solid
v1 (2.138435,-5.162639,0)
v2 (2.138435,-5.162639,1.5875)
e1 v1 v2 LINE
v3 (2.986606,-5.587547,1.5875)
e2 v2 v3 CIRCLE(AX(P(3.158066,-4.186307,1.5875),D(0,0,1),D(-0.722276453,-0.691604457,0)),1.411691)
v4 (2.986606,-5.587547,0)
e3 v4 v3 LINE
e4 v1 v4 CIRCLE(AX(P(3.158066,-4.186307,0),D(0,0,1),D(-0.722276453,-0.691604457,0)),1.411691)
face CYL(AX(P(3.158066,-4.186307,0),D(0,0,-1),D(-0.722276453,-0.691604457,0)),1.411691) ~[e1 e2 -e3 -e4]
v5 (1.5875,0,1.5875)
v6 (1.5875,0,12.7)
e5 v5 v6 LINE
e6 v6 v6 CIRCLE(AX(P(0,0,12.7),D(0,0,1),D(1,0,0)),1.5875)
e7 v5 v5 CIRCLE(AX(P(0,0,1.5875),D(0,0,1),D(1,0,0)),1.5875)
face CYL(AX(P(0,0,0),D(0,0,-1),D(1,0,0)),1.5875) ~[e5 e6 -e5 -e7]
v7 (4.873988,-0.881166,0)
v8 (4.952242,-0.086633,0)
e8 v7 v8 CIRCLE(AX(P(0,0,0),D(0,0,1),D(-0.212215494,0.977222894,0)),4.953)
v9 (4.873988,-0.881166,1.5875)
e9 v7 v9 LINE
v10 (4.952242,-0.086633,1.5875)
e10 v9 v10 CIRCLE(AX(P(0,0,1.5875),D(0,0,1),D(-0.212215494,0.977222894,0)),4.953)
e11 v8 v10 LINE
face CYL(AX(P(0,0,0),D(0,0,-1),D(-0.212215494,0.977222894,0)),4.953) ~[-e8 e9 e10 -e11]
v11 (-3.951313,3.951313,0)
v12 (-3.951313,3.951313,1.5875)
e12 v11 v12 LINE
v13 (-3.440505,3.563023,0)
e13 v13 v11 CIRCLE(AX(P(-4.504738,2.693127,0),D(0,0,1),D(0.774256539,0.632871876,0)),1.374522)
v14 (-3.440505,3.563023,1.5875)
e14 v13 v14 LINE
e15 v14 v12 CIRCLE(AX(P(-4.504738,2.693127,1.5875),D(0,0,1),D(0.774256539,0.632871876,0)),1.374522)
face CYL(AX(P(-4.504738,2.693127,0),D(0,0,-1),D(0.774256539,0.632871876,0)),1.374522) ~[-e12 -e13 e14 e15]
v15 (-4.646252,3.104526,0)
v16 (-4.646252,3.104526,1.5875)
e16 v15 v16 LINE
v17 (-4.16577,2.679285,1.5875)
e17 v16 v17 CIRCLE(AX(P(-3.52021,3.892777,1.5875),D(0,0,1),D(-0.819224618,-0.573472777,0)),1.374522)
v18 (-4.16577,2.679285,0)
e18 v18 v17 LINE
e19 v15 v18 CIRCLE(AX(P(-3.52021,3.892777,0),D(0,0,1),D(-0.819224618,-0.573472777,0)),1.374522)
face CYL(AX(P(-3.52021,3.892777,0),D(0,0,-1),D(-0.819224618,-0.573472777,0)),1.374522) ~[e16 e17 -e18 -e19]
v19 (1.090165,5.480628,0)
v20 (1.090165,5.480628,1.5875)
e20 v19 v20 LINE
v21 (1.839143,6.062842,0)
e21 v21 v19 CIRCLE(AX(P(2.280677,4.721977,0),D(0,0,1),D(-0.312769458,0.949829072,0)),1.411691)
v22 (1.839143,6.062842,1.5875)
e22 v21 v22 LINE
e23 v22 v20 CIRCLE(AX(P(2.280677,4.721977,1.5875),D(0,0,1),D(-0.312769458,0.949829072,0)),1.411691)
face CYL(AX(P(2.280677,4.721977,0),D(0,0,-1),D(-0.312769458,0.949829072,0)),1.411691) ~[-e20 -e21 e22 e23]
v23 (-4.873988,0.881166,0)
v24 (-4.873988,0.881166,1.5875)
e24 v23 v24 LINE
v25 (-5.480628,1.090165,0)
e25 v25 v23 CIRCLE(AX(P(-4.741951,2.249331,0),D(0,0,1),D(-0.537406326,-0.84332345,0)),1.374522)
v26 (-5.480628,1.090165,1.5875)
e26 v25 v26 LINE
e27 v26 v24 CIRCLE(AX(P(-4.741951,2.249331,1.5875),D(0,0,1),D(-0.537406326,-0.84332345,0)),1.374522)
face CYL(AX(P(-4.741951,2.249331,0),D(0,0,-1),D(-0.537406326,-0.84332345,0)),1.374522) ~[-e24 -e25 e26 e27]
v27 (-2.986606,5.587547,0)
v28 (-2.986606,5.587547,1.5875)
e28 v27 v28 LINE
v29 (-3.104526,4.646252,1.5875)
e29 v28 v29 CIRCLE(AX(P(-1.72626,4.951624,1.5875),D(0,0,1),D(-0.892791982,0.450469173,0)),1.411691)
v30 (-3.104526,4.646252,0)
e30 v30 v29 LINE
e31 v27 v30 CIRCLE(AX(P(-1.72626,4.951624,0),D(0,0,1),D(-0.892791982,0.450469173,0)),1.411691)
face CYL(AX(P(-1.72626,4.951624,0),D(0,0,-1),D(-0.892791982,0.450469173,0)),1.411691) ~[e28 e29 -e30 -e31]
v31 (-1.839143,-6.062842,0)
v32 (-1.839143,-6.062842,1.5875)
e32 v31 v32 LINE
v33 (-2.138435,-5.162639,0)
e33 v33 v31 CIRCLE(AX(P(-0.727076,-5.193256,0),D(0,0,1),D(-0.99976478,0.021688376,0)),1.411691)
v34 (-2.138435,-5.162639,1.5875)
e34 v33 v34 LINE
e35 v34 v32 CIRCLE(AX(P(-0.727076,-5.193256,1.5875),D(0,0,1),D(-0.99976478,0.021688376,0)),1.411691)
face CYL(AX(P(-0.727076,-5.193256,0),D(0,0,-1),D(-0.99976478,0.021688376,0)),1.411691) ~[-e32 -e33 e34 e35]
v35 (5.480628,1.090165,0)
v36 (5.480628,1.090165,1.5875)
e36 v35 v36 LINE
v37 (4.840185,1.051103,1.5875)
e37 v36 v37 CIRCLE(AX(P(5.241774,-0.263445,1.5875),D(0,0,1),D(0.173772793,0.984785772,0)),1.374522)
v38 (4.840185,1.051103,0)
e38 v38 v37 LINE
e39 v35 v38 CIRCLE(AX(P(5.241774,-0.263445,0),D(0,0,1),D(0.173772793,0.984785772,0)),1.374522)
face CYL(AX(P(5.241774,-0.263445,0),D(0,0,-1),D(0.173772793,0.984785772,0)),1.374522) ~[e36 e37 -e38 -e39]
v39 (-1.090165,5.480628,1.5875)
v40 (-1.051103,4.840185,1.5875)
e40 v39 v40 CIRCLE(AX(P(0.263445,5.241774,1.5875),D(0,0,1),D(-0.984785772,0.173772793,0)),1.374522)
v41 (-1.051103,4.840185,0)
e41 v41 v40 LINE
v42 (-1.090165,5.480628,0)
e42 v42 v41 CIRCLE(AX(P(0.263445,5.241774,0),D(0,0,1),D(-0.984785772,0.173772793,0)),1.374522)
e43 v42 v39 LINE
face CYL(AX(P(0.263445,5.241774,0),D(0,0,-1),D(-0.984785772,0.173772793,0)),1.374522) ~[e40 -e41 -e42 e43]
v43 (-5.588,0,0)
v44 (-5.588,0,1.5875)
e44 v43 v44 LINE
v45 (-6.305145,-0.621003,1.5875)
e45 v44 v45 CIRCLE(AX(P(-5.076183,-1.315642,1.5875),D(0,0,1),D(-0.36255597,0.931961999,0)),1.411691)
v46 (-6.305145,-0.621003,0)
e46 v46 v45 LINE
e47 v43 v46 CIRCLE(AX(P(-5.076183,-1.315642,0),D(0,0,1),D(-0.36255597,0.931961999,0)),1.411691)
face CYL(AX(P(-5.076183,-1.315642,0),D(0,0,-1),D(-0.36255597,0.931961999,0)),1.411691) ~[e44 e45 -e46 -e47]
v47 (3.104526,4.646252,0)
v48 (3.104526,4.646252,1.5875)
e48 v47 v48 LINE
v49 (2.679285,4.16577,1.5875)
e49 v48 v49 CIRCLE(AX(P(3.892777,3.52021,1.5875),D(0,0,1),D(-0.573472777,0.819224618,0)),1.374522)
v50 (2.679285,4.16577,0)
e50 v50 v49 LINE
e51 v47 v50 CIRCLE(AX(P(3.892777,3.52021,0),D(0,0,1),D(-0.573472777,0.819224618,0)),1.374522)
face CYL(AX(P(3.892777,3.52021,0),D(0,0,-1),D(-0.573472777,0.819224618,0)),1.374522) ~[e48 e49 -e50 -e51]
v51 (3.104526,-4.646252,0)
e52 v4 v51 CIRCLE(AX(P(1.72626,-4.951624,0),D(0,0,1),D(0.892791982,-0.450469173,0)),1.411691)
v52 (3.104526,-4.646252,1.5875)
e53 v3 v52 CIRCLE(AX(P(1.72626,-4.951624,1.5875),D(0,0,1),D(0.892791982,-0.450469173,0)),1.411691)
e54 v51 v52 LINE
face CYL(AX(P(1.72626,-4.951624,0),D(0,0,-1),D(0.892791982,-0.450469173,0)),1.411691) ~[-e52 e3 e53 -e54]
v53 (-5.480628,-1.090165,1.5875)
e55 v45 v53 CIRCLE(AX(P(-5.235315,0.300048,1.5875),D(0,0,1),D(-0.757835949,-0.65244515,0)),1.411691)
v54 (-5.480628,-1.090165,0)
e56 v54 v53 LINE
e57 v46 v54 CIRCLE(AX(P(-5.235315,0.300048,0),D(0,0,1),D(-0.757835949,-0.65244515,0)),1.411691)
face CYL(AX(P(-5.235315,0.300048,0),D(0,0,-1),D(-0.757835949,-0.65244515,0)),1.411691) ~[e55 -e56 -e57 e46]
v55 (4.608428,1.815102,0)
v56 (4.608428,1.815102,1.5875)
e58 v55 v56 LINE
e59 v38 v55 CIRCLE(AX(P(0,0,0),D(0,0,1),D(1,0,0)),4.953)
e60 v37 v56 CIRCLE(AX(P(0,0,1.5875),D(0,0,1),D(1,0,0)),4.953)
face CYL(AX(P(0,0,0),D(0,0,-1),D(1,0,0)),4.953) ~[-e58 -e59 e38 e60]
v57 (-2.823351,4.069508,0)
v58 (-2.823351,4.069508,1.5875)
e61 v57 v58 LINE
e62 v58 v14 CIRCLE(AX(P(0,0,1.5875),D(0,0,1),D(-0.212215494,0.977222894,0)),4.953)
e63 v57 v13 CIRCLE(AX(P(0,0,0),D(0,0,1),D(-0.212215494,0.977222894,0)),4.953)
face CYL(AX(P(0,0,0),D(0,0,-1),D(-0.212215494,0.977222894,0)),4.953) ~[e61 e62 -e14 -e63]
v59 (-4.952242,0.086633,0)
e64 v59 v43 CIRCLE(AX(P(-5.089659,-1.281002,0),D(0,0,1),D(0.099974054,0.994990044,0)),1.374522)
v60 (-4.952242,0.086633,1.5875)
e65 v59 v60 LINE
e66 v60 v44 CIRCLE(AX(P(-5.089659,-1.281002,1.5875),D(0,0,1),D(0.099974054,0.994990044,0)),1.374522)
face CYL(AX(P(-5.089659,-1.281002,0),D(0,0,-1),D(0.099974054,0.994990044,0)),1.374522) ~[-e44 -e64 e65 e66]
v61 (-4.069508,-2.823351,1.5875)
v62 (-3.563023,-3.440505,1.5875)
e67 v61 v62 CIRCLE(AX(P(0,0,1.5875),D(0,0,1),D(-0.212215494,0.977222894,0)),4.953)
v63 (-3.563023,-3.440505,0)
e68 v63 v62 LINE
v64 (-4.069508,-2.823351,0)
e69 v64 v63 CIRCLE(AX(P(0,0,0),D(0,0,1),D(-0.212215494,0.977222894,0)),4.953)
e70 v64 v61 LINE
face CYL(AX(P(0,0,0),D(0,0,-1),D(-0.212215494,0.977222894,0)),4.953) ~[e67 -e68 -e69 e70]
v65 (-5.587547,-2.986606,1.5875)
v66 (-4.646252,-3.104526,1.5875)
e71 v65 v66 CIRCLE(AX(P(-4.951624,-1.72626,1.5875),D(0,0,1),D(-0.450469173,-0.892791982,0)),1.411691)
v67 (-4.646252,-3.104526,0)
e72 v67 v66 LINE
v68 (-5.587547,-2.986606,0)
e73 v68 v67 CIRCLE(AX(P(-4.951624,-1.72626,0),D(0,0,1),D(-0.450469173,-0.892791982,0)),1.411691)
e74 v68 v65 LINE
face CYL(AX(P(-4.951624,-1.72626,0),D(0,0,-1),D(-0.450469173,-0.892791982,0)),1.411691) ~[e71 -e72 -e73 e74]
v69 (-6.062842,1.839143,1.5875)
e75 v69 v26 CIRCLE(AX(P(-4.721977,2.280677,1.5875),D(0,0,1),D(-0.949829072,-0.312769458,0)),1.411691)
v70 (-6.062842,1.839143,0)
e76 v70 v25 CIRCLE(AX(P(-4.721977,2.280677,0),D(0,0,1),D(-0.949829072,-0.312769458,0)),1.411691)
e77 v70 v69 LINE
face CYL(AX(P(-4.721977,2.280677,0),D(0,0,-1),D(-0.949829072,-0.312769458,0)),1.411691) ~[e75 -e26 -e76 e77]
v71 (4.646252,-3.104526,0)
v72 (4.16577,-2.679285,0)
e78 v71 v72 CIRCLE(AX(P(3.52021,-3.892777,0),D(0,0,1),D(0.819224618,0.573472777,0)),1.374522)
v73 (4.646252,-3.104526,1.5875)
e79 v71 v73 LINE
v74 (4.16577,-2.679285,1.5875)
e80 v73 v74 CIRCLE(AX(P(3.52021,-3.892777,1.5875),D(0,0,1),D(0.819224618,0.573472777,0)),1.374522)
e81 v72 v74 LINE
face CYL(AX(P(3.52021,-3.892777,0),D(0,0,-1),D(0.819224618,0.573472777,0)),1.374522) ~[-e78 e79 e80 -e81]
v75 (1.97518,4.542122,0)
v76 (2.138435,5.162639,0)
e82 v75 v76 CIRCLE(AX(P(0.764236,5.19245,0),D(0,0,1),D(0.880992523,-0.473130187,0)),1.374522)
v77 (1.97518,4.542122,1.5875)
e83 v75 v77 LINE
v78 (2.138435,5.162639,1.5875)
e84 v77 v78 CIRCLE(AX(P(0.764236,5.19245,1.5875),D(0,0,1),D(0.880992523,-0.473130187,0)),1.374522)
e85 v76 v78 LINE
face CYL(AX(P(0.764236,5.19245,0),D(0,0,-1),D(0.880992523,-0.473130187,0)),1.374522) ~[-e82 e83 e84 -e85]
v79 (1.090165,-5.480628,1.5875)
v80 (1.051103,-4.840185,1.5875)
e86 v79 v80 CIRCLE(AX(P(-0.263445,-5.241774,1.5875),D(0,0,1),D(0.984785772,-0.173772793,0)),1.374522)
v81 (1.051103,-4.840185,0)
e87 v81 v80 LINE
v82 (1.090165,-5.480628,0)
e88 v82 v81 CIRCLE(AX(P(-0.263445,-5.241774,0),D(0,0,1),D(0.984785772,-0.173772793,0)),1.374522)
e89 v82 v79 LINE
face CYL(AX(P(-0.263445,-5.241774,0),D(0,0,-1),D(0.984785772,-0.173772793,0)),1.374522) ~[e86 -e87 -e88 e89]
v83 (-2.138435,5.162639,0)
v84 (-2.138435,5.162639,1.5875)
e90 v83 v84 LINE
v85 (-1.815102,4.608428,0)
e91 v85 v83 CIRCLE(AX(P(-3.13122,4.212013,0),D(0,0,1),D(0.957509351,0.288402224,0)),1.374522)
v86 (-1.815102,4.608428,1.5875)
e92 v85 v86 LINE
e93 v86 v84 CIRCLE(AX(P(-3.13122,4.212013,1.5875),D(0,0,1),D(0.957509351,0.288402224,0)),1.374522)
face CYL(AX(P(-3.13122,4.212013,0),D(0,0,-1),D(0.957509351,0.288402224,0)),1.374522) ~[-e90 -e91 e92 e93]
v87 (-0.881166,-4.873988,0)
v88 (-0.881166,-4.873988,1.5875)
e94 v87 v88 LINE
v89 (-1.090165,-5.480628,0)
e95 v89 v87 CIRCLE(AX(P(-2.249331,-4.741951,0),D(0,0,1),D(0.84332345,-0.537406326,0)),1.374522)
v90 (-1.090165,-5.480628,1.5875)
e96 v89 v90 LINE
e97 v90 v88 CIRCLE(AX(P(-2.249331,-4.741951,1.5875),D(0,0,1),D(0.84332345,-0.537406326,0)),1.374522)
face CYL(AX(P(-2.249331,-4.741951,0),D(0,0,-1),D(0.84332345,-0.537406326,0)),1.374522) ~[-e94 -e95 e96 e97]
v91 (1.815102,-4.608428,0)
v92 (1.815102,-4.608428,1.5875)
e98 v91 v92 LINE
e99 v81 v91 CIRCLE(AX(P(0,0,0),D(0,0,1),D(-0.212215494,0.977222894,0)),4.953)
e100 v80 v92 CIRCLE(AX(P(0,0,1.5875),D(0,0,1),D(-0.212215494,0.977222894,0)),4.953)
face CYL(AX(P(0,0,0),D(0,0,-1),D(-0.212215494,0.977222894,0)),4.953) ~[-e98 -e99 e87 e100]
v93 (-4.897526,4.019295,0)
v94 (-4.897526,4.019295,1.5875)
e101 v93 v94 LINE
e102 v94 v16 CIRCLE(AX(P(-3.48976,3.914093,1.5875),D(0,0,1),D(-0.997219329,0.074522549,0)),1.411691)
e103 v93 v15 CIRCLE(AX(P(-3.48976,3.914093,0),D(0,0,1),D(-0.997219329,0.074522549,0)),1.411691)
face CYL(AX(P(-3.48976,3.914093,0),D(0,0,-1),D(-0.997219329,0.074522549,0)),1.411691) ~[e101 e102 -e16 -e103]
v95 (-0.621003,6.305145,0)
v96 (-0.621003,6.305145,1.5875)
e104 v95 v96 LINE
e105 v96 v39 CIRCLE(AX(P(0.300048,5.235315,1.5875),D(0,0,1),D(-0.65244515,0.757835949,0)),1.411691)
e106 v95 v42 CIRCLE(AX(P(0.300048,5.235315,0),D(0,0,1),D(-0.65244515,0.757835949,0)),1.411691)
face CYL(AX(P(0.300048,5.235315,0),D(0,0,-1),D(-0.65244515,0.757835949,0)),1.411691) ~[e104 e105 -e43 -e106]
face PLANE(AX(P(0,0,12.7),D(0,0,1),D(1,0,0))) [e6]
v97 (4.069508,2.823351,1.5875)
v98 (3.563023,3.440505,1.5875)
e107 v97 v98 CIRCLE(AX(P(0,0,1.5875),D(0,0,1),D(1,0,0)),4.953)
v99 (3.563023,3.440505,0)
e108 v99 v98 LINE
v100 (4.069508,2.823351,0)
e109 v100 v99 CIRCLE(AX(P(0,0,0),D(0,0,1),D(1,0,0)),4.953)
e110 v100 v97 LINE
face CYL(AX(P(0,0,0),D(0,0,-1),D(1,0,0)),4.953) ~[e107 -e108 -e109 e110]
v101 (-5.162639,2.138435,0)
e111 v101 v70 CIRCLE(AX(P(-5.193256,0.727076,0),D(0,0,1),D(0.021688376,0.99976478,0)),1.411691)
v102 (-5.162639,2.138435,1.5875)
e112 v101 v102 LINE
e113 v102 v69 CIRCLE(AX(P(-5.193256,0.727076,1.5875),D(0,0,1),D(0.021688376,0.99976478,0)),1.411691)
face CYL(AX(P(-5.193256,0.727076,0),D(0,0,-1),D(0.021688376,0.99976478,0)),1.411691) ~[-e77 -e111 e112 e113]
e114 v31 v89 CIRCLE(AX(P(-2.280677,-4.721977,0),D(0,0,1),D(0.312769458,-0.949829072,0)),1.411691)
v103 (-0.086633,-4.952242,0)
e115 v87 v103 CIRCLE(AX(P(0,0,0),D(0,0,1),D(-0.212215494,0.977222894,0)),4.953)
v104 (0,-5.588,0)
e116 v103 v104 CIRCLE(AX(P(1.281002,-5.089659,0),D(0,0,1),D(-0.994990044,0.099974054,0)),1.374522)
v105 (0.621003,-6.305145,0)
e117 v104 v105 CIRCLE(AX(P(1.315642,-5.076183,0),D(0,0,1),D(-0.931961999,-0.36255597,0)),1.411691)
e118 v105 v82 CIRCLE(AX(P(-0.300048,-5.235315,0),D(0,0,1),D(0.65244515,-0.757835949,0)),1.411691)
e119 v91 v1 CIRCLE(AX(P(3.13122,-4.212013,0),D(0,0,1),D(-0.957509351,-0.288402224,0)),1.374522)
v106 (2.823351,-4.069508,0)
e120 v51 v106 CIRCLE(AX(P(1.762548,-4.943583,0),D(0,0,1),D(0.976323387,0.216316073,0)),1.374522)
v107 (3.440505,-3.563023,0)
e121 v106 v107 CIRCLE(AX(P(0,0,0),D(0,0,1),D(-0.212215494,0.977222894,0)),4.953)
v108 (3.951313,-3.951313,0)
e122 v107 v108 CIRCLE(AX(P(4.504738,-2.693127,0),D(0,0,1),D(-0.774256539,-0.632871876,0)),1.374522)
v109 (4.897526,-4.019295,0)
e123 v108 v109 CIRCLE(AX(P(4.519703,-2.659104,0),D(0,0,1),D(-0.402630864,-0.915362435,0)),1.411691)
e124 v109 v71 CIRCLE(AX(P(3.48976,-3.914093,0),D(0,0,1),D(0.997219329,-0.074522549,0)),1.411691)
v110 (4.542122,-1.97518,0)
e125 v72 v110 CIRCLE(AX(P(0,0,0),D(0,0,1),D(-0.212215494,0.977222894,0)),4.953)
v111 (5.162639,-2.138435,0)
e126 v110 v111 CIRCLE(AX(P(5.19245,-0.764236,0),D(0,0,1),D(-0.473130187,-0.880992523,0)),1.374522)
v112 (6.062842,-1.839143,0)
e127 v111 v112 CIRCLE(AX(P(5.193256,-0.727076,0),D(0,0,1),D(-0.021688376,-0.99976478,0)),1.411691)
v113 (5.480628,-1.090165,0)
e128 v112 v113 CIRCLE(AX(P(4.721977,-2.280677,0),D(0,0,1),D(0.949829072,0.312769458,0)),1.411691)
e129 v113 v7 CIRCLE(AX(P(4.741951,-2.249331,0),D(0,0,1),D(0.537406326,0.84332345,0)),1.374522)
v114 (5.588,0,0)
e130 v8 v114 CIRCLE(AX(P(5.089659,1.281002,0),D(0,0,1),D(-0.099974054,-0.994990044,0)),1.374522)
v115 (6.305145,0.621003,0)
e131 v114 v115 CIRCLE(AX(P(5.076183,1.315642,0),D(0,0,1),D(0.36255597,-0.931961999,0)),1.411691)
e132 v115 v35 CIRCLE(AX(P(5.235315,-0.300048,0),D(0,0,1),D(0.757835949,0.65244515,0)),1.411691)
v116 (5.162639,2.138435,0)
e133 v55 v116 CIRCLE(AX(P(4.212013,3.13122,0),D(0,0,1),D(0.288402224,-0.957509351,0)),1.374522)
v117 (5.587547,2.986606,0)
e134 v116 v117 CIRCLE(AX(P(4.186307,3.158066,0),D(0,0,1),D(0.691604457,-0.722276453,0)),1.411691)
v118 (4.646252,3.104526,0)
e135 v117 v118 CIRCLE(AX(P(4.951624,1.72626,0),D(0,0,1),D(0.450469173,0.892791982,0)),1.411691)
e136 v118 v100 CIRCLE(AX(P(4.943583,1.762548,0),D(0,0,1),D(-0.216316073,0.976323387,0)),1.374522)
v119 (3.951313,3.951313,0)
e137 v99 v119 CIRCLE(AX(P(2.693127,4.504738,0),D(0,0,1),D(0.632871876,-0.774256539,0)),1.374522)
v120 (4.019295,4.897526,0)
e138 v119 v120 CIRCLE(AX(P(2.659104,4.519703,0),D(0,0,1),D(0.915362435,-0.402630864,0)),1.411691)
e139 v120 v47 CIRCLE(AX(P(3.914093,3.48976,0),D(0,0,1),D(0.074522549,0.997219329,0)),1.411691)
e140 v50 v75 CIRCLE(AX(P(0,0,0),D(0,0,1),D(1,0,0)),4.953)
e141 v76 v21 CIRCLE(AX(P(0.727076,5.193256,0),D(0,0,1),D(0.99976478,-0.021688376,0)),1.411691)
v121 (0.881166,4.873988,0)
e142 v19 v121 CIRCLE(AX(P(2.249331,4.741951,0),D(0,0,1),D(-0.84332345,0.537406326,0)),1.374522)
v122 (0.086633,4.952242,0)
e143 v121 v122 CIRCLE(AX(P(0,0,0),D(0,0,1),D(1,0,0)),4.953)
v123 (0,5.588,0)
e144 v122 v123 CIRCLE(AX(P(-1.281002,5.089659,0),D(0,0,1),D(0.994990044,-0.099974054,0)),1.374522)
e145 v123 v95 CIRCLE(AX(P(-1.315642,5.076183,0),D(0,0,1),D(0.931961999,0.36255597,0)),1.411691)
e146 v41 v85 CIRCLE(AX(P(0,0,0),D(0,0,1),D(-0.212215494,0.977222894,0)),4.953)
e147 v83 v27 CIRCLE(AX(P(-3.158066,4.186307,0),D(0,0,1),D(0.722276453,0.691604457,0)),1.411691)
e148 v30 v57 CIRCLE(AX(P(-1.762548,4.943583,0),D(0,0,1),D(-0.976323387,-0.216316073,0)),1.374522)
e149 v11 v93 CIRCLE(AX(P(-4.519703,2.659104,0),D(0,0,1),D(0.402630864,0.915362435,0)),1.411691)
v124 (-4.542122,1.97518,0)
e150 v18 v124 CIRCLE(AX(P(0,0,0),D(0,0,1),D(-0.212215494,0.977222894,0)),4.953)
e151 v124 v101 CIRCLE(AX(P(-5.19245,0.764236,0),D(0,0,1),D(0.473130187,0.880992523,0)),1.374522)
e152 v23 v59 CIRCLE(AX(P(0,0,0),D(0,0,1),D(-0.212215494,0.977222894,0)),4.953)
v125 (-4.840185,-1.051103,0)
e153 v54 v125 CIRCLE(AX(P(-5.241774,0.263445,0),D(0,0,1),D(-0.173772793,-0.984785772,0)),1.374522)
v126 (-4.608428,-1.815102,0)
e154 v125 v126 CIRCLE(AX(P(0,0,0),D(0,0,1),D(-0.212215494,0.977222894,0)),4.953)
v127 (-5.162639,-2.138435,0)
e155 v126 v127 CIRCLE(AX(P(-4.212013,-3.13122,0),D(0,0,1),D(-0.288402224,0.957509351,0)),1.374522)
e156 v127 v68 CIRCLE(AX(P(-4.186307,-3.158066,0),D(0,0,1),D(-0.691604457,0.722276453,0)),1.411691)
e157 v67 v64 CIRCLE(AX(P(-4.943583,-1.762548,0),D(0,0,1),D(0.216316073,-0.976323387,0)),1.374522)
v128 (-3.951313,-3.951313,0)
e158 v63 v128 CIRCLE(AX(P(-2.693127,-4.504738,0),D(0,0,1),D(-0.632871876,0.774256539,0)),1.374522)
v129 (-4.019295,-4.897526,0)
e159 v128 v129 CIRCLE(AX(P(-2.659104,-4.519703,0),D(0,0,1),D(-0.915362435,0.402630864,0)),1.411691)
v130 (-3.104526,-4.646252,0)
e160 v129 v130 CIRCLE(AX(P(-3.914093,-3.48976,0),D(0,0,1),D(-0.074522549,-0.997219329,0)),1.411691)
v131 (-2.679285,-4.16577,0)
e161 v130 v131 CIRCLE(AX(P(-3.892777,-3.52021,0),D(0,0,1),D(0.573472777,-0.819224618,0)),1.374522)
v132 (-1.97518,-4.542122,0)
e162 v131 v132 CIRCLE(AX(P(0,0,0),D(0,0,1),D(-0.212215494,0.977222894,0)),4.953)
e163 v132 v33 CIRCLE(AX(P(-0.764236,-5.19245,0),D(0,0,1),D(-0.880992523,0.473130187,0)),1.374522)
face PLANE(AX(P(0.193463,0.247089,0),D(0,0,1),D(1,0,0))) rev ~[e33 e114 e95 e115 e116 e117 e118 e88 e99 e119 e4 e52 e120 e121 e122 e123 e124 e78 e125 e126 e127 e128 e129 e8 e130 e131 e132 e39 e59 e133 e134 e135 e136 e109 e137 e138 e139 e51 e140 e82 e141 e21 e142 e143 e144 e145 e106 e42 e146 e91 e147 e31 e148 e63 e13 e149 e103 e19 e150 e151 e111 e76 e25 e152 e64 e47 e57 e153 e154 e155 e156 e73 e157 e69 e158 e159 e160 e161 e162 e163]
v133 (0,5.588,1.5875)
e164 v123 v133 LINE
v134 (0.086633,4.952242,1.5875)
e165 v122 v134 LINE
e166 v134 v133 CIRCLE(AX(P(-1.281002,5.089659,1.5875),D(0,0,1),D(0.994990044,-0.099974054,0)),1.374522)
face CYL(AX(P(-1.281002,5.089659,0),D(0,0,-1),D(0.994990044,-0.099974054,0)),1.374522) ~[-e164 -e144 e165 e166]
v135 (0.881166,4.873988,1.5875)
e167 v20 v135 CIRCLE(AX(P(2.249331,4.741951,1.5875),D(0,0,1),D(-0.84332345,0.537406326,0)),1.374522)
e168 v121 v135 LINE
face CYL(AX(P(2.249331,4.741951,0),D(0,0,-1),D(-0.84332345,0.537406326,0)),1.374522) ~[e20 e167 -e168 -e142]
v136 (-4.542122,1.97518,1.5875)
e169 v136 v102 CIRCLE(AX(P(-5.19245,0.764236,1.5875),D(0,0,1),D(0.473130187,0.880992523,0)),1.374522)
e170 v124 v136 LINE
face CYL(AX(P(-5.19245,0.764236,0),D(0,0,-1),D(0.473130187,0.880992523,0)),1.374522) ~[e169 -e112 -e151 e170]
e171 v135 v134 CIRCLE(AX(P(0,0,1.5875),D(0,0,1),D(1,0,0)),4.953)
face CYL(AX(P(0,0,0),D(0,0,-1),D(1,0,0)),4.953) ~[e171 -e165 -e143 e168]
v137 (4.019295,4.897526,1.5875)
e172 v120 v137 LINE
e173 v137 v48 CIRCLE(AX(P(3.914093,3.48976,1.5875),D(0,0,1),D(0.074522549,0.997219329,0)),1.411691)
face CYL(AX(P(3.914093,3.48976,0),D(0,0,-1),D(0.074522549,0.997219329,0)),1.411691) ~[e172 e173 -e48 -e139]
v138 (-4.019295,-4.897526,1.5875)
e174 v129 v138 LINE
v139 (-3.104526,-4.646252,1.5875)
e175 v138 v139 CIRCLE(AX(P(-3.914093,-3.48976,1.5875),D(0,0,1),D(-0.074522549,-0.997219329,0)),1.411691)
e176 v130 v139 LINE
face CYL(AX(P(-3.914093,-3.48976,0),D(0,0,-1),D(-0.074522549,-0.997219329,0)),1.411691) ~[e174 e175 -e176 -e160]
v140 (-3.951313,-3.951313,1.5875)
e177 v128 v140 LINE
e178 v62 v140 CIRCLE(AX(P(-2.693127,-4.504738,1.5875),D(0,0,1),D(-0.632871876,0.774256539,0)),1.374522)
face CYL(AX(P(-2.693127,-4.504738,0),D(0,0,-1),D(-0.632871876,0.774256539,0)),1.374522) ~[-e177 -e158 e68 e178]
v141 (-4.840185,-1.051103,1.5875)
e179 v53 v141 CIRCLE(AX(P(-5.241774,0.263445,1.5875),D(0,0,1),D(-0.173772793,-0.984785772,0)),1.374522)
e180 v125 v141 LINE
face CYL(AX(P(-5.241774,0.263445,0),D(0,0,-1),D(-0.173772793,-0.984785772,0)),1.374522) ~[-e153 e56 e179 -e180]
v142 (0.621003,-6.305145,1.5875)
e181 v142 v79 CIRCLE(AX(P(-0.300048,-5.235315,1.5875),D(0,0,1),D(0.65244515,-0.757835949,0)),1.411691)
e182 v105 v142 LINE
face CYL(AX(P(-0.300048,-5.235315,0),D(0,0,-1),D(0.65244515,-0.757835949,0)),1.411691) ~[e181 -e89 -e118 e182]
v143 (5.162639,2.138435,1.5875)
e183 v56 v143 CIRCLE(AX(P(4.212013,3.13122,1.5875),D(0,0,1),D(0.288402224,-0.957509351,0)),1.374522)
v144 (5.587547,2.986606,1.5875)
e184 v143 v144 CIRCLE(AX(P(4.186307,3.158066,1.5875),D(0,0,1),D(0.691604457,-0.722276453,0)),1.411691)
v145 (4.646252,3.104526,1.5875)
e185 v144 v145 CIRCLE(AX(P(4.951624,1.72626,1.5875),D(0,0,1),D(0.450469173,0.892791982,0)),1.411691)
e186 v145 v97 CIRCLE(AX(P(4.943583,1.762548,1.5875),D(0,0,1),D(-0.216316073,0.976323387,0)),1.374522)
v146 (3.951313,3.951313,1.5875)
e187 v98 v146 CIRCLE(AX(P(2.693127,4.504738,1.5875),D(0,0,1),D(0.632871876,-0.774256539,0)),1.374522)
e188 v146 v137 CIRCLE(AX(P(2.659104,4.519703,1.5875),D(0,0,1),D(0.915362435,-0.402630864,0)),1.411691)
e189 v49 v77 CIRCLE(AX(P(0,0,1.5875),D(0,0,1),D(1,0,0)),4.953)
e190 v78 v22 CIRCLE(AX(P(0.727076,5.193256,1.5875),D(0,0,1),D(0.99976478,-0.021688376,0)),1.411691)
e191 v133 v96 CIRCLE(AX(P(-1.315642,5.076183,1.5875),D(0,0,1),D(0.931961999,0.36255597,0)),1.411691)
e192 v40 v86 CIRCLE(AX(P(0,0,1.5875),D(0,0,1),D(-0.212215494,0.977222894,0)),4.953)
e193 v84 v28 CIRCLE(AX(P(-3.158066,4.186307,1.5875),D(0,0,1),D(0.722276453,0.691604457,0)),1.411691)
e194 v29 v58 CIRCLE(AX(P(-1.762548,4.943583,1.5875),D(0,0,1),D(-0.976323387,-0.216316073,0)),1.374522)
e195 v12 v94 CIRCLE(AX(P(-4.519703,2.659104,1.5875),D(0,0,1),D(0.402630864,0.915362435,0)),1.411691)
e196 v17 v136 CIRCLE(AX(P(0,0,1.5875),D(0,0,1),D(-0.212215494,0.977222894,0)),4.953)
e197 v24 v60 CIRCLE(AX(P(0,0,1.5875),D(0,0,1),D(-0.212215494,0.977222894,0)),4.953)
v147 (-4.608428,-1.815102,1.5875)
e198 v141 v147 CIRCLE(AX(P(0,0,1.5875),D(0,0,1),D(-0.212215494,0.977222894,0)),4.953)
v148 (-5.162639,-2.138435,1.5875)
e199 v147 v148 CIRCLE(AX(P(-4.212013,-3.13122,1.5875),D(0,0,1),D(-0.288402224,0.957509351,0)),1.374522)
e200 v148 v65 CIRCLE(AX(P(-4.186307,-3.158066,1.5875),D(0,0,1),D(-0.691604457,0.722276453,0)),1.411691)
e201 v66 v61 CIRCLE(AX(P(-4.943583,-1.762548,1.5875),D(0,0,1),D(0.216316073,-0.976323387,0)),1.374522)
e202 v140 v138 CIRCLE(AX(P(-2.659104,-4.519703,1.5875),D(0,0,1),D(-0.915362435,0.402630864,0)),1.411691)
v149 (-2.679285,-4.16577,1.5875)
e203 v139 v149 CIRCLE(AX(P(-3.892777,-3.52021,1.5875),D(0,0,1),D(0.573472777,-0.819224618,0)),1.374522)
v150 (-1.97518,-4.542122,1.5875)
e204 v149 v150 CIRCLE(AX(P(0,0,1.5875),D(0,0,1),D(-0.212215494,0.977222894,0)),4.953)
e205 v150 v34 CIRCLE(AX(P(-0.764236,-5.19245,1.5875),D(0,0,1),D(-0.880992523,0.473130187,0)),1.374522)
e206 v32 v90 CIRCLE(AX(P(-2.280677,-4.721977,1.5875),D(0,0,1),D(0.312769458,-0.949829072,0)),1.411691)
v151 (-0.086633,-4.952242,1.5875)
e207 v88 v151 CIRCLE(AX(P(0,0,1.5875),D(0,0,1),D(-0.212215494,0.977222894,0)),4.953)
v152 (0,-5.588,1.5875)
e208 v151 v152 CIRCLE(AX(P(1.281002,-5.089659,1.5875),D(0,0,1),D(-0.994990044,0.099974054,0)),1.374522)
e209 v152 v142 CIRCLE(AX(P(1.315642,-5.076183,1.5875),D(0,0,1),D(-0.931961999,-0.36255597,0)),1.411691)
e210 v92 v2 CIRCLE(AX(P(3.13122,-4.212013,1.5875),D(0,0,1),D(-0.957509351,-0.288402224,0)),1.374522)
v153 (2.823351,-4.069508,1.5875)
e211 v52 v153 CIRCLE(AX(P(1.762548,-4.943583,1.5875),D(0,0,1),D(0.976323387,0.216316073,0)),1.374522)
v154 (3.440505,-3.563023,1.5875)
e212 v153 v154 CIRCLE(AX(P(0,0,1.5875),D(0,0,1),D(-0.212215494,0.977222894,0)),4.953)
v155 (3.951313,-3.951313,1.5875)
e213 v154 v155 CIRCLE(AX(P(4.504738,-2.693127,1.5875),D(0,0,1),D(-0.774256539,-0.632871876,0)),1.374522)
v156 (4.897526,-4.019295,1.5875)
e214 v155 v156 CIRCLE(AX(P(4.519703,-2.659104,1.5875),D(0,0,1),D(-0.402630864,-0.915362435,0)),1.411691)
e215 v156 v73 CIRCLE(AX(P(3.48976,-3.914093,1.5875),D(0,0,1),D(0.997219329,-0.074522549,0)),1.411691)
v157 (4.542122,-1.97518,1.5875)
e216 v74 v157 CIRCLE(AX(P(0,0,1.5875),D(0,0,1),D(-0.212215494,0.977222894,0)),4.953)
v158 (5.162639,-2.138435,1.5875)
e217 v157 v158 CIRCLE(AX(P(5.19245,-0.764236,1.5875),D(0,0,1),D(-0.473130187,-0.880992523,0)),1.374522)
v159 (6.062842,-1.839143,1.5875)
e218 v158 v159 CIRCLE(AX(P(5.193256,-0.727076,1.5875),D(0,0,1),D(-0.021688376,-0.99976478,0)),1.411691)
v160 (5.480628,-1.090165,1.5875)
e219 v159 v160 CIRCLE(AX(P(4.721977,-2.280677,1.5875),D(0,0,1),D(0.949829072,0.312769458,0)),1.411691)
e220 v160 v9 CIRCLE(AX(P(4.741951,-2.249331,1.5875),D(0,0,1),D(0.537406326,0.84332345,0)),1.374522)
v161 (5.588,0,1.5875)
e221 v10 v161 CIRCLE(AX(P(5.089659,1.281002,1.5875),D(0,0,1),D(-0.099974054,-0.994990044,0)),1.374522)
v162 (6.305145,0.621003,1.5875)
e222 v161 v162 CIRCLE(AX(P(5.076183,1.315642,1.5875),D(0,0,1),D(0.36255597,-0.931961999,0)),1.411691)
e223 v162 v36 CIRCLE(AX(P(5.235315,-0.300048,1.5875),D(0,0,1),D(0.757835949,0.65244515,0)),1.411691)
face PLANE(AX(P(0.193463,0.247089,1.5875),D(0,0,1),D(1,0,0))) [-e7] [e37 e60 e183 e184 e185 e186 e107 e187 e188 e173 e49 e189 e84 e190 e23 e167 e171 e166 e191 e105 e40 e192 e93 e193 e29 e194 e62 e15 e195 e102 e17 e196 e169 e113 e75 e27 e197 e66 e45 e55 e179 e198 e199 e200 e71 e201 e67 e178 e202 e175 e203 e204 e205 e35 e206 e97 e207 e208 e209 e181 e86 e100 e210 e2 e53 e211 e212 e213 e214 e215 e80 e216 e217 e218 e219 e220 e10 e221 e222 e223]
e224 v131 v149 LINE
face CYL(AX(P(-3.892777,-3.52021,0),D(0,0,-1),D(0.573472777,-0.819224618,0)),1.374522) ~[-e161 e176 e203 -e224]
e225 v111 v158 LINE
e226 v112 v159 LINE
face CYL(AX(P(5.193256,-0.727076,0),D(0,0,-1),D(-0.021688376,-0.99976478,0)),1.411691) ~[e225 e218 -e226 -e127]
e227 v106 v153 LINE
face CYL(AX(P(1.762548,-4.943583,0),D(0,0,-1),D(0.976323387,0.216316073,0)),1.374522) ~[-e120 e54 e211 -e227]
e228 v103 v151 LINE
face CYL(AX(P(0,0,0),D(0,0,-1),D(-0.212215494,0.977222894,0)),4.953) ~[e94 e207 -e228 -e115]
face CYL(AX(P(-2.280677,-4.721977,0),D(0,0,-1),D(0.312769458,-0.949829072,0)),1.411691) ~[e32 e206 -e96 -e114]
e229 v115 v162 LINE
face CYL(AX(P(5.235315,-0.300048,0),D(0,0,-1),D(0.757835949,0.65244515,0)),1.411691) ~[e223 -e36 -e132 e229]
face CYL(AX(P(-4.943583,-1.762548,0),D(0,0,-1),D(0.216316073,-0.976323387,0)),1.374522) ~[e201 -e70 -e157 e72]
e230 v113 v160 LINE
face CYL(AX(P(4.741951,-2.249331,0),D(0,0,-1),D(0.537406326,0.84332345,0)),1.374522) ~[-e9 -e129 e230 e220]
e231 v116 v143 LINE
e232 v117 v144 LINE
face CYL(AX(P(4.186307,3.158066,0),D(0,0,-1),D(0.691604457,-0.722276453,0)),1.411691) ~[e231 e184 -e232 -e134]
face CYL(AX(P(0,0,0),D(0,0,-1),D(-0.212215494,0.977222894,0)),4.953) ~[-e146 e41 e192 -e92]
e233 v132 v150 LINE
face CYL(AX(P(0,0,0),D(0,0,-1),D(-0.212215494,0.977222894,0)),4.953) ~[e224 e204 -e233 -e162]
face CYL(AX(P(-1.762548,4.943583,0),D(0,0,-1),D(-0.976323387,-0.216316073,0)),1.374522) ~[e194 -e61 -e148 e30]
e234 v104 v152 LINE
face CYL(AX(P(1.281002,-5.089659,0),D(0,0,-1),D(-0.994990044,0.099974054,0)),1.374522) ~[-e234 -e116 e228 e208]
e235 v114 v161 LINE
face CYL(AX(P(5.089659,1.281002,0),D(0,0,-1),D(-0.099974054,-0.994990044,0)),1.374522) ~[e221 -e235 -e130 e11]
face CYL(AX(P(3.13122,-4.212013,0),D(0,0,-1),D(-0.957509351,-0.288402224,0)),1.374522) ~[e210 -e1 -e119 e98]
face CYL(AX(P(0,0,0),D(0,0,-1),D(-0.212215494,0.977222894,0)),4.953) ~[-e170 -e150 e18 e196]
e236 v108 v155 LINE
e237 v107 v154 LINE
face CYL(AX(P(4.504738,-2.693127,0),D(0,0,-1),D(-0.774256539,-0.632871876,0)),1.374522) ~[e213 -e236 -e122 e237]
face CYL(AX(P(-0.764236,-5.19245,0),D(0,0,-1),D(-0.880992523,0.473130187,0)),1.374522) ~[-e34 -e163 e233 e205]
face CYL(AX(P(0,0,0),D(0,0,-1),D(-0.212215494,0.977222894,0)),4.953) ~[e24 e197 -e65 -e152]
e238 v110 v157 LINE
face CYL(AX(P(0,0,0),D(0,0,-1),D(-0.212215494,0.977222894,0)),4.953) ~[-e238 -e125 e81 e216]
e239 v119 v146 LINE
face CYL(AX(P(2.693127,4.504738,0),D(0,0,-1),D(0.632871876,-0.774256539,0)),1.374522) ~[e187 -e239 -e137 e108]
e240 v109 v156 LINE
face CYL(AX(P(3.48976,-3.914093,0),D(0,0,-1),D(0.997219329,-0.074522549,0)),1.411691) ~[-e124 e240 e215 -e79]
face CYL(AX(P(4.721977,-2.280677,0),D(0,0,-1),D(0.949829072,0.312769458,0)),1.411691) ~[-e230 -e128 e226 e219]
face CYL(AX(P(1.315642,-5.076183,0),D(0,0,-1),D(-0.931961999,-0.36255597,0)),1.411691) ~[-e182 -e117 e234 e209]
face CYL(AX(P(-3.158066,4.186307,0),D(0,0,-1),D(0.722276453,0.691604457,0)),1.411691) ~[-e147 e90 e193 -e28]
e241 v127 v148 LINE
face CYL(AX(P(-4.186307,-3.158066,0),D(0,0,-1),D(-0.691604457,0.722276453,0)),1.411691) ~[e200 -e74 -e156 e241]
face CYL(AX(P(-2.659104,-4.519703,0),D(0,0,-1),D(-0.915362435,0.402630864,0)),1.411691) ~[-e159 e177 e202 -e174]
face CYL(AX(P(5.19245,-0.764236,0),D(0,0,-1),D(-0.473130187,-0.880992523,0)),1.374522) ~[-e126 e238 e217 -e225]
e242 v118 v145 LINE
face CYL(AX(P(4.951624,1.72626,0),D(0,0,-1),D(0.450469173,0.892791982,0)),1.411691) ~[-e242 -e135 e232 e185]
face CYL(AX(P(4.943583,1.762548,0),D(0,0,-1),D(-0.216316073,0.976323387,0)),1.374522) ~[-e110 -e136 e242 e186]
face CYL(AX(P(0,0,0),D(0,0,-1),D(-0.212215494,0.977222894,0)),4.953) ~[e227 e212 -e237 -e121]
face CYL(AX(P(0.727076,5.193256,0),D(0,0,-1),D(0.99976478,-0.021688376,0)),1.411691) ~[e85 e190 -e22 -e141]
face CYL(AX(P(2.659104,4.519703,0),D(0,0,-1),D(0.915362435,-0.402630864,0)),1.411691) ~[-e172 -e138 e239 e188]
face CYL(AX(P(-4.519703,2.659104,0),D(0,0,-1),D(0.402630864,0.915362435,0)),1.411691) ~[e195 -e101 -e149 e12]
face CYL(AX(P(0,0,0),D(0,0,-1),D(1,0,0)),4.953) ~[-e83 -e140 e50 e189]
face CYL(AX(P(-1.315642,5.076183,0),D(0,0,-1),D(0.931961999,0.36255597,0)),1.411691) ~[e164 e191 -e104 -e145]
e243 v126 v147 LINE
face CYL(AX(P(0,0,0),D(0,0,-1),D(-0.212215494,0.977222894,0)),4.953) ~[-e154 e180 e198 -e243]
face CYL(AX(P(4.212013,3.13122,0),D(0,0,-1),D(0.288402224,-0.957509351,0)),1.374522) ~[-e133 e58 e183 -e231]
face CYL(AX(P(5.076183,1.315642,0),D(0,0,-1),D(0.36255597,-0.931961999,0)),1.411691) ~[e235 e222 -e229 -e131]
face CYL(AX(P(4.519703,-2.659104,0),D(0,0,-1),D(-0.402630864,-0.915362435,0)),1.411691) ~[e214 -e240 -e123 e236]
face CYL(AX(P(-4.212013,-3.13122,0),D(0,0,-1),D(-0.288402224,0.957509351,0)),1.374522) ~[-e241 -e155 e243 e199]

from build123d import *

# Parameters (mm, degrees)
F1_DEPTH = 1.5875
F2_COUNT = 16
F0_R     = 1.5875
F3_DEPTH = 1.5875
F4_DEPTH = 12.7


with BuildPart() as f1:
    # F0 (on Top) → F1 (new body)
    with BuildSketch(Plane.XY):
        with BuildLine():
            ThreePointArc((-1.0511033425, 4.8401849927), (-0.4854788961, 4.9291499512), (0.0866334376, 4.9522422848))
            ThreePointArc((0.0866334376, 4.9522422848), (0.0809330254, 5.2752470416), (0, 5.588))
            ThreePointArc((0, 5.588), (-0.2484578592, 6.0002980681), (-0.6210025483, 6.3051446843))
            ThreePointArc((-0.6210025483, 6.3051446843), (-0.9269162712, 5.933475747), (-1.0901647194, 5.4806281469))
            ThreePointArc((-1.0901647194, 5.4806281469), (-1.1085275641, 5.1580953989), (-1.0511033425, 4.8401849927))
        make_face()
    extrude(amount=F1_DEPTH)


with BuildPart() as f2_1:
    # F2: instance of F1
    add(f1.part.rotate(Axis((0, 0, 0), (0, 0, 1)), 1 * 360 / F2_COUNT))


with BuildPart() as f2_2:
    # F2: instance of F1
    add(f1.part.rotate(Axis((0, 0, 0), (0, 0, 1)), 2 * 360 / F2_COUNT))


with BuildPart() as f2_3:
    # F2: instance of F1
    add(f1.part.rotate(Axis((0, 0, 0), (0, 0, 1)), 3 * 360 / F2_COUNT))


with BuildPart() as f2_4:
    # F2: instance of F1
    add(f1.part.rotate(Axis((0, 0, 0), (0, 0, 1)), 4 * 360 / F2_COUNT))


with BuildPart() as f2_5:
    # F2: instance of F1
    add(f1.part.rotate(Axis((0, 0, 0), (0, 0, 1)), 5 * 360 / F2_COUNT))


with BuildPart() as f2_6:
    # F2: instance of F1
    add(f1.part.rotate(Axis((0, 0, 0), (0, 0, 1)), 6 * 360 / F2_COUNT))


with BuildPart() as f2_7:
    # F2: instance of F1
    add(f1.part.rotate(Axis((0, 0, 0), (0, 0, 1)), 7 * 360 / F2_COUNT))


with BuildPart() as f2_8:
    # F2: instance of F1
    add(f1.part.rotate(Axis((0, 0, 0), (0, 0, 1)), 8 * 360 / F2_COUNT))


with BuildPart() as f2_9:
    # F2: instance of F1
    add(f1.part.rotate(Axis((0, 0, 0), (0, 0, 1)), 9 * 360 / F2_COUNT))


with BuildPart() as f2_10:
    # F2: instance of F1
    add(f1.part.rotate(Axis((0, 0, 0), (0, 0, 1)), 10 * 360 / F2_COUNT))


with BuildPart() as f2_11:
    # F2: instance of F1
    add(f1.part.rotate(Axis((0, 0, 0), (0, 0, 1)), 11 * 360 / F2_COUNT))


with BuildPart() as f2_12:
    # F2: instance of F1
    add(f1.part.rotate(Axis((0, 0, 0), (0, 0, 1)), 12 * 360 / F2_COUNT))


with BuildPart() as f2_13:
    # F2: instance of F1
    add(f1.part.rotate(Axis((0, 0, 0), (0, 0, 1)), 13 * 360 / F2_COUNT))


with BuildPart() as f2_14:
    # F2: instance of F1
    add(f1.part.rotate(Axis((0, 0, 0), (0, 0, 1)), 14 * 360 / F2_COUNT))


with BuildPart() as f2_15:
    # F2: instance of F1
    add(f1.part.rotate(Axis((0, 0, 0), (0, 0, 1)), 15 * 360 / F2_COUNT))


with BuildPart() as f1_1:
    add(f1.part)

    add(f2_1.part)  # F3 merges F2_1

    add(f2_2.part)  # F3 merges F2_2

    add(f2_3.part)  # F3 merges F2_3

    add(f2_4.part)  # F3 merges F2_4

    add(f2_5.part)  # F3 merges F2_5

    add(f2_6.part)  # F3 merges F2_6

    add(f2_7.part)  # F3 merges F2_7

    add(f2_8.part)  # F3 merges F2_8

    add(f2_9.part)  # F3 merges F2_9

    add(f2_10.part)  # F3 merges F2_10

    add(f2_11.part)  # F3 merges F2_11

    add(f2_12.part)  # F3 merges F2_12

    add(f2_13.part)  # F3 merges F2_13

    add(f2_14.part)  # F3 merges F2_14

    add(f2_15.part)  # F3 merges F2_15
    # F0 (on Top) → F3 (join)
    with BuildSketch(Plane.XY):
        with BuildLine():
            ThreePointArc((-1.0511033425, 4.8401849927), (-3.1085442047, -3.8560552288), (4.953, 0))
            ThreePointArc((4.953, 0), (3.5327966554, 3.4715352211), (0.0866334376, 4.9522422848))
            ThreePointArc((0.0866334376, 4.9522422848), (-0.4854788961, 4.9291499512), (-1.0511033425, 4.8401849927))
        make_face()
        Circle(F0_R, mode=Mode.SUBTRACT)
    extrude(amount=F3_DEPTH)

    # F0 (on Top) → F4 (join)
    with BuildSketch(Plane.XY):
        Circle(F0_R)
    extrude(amount=F4_DEPTH)


solid = f1_1.part
